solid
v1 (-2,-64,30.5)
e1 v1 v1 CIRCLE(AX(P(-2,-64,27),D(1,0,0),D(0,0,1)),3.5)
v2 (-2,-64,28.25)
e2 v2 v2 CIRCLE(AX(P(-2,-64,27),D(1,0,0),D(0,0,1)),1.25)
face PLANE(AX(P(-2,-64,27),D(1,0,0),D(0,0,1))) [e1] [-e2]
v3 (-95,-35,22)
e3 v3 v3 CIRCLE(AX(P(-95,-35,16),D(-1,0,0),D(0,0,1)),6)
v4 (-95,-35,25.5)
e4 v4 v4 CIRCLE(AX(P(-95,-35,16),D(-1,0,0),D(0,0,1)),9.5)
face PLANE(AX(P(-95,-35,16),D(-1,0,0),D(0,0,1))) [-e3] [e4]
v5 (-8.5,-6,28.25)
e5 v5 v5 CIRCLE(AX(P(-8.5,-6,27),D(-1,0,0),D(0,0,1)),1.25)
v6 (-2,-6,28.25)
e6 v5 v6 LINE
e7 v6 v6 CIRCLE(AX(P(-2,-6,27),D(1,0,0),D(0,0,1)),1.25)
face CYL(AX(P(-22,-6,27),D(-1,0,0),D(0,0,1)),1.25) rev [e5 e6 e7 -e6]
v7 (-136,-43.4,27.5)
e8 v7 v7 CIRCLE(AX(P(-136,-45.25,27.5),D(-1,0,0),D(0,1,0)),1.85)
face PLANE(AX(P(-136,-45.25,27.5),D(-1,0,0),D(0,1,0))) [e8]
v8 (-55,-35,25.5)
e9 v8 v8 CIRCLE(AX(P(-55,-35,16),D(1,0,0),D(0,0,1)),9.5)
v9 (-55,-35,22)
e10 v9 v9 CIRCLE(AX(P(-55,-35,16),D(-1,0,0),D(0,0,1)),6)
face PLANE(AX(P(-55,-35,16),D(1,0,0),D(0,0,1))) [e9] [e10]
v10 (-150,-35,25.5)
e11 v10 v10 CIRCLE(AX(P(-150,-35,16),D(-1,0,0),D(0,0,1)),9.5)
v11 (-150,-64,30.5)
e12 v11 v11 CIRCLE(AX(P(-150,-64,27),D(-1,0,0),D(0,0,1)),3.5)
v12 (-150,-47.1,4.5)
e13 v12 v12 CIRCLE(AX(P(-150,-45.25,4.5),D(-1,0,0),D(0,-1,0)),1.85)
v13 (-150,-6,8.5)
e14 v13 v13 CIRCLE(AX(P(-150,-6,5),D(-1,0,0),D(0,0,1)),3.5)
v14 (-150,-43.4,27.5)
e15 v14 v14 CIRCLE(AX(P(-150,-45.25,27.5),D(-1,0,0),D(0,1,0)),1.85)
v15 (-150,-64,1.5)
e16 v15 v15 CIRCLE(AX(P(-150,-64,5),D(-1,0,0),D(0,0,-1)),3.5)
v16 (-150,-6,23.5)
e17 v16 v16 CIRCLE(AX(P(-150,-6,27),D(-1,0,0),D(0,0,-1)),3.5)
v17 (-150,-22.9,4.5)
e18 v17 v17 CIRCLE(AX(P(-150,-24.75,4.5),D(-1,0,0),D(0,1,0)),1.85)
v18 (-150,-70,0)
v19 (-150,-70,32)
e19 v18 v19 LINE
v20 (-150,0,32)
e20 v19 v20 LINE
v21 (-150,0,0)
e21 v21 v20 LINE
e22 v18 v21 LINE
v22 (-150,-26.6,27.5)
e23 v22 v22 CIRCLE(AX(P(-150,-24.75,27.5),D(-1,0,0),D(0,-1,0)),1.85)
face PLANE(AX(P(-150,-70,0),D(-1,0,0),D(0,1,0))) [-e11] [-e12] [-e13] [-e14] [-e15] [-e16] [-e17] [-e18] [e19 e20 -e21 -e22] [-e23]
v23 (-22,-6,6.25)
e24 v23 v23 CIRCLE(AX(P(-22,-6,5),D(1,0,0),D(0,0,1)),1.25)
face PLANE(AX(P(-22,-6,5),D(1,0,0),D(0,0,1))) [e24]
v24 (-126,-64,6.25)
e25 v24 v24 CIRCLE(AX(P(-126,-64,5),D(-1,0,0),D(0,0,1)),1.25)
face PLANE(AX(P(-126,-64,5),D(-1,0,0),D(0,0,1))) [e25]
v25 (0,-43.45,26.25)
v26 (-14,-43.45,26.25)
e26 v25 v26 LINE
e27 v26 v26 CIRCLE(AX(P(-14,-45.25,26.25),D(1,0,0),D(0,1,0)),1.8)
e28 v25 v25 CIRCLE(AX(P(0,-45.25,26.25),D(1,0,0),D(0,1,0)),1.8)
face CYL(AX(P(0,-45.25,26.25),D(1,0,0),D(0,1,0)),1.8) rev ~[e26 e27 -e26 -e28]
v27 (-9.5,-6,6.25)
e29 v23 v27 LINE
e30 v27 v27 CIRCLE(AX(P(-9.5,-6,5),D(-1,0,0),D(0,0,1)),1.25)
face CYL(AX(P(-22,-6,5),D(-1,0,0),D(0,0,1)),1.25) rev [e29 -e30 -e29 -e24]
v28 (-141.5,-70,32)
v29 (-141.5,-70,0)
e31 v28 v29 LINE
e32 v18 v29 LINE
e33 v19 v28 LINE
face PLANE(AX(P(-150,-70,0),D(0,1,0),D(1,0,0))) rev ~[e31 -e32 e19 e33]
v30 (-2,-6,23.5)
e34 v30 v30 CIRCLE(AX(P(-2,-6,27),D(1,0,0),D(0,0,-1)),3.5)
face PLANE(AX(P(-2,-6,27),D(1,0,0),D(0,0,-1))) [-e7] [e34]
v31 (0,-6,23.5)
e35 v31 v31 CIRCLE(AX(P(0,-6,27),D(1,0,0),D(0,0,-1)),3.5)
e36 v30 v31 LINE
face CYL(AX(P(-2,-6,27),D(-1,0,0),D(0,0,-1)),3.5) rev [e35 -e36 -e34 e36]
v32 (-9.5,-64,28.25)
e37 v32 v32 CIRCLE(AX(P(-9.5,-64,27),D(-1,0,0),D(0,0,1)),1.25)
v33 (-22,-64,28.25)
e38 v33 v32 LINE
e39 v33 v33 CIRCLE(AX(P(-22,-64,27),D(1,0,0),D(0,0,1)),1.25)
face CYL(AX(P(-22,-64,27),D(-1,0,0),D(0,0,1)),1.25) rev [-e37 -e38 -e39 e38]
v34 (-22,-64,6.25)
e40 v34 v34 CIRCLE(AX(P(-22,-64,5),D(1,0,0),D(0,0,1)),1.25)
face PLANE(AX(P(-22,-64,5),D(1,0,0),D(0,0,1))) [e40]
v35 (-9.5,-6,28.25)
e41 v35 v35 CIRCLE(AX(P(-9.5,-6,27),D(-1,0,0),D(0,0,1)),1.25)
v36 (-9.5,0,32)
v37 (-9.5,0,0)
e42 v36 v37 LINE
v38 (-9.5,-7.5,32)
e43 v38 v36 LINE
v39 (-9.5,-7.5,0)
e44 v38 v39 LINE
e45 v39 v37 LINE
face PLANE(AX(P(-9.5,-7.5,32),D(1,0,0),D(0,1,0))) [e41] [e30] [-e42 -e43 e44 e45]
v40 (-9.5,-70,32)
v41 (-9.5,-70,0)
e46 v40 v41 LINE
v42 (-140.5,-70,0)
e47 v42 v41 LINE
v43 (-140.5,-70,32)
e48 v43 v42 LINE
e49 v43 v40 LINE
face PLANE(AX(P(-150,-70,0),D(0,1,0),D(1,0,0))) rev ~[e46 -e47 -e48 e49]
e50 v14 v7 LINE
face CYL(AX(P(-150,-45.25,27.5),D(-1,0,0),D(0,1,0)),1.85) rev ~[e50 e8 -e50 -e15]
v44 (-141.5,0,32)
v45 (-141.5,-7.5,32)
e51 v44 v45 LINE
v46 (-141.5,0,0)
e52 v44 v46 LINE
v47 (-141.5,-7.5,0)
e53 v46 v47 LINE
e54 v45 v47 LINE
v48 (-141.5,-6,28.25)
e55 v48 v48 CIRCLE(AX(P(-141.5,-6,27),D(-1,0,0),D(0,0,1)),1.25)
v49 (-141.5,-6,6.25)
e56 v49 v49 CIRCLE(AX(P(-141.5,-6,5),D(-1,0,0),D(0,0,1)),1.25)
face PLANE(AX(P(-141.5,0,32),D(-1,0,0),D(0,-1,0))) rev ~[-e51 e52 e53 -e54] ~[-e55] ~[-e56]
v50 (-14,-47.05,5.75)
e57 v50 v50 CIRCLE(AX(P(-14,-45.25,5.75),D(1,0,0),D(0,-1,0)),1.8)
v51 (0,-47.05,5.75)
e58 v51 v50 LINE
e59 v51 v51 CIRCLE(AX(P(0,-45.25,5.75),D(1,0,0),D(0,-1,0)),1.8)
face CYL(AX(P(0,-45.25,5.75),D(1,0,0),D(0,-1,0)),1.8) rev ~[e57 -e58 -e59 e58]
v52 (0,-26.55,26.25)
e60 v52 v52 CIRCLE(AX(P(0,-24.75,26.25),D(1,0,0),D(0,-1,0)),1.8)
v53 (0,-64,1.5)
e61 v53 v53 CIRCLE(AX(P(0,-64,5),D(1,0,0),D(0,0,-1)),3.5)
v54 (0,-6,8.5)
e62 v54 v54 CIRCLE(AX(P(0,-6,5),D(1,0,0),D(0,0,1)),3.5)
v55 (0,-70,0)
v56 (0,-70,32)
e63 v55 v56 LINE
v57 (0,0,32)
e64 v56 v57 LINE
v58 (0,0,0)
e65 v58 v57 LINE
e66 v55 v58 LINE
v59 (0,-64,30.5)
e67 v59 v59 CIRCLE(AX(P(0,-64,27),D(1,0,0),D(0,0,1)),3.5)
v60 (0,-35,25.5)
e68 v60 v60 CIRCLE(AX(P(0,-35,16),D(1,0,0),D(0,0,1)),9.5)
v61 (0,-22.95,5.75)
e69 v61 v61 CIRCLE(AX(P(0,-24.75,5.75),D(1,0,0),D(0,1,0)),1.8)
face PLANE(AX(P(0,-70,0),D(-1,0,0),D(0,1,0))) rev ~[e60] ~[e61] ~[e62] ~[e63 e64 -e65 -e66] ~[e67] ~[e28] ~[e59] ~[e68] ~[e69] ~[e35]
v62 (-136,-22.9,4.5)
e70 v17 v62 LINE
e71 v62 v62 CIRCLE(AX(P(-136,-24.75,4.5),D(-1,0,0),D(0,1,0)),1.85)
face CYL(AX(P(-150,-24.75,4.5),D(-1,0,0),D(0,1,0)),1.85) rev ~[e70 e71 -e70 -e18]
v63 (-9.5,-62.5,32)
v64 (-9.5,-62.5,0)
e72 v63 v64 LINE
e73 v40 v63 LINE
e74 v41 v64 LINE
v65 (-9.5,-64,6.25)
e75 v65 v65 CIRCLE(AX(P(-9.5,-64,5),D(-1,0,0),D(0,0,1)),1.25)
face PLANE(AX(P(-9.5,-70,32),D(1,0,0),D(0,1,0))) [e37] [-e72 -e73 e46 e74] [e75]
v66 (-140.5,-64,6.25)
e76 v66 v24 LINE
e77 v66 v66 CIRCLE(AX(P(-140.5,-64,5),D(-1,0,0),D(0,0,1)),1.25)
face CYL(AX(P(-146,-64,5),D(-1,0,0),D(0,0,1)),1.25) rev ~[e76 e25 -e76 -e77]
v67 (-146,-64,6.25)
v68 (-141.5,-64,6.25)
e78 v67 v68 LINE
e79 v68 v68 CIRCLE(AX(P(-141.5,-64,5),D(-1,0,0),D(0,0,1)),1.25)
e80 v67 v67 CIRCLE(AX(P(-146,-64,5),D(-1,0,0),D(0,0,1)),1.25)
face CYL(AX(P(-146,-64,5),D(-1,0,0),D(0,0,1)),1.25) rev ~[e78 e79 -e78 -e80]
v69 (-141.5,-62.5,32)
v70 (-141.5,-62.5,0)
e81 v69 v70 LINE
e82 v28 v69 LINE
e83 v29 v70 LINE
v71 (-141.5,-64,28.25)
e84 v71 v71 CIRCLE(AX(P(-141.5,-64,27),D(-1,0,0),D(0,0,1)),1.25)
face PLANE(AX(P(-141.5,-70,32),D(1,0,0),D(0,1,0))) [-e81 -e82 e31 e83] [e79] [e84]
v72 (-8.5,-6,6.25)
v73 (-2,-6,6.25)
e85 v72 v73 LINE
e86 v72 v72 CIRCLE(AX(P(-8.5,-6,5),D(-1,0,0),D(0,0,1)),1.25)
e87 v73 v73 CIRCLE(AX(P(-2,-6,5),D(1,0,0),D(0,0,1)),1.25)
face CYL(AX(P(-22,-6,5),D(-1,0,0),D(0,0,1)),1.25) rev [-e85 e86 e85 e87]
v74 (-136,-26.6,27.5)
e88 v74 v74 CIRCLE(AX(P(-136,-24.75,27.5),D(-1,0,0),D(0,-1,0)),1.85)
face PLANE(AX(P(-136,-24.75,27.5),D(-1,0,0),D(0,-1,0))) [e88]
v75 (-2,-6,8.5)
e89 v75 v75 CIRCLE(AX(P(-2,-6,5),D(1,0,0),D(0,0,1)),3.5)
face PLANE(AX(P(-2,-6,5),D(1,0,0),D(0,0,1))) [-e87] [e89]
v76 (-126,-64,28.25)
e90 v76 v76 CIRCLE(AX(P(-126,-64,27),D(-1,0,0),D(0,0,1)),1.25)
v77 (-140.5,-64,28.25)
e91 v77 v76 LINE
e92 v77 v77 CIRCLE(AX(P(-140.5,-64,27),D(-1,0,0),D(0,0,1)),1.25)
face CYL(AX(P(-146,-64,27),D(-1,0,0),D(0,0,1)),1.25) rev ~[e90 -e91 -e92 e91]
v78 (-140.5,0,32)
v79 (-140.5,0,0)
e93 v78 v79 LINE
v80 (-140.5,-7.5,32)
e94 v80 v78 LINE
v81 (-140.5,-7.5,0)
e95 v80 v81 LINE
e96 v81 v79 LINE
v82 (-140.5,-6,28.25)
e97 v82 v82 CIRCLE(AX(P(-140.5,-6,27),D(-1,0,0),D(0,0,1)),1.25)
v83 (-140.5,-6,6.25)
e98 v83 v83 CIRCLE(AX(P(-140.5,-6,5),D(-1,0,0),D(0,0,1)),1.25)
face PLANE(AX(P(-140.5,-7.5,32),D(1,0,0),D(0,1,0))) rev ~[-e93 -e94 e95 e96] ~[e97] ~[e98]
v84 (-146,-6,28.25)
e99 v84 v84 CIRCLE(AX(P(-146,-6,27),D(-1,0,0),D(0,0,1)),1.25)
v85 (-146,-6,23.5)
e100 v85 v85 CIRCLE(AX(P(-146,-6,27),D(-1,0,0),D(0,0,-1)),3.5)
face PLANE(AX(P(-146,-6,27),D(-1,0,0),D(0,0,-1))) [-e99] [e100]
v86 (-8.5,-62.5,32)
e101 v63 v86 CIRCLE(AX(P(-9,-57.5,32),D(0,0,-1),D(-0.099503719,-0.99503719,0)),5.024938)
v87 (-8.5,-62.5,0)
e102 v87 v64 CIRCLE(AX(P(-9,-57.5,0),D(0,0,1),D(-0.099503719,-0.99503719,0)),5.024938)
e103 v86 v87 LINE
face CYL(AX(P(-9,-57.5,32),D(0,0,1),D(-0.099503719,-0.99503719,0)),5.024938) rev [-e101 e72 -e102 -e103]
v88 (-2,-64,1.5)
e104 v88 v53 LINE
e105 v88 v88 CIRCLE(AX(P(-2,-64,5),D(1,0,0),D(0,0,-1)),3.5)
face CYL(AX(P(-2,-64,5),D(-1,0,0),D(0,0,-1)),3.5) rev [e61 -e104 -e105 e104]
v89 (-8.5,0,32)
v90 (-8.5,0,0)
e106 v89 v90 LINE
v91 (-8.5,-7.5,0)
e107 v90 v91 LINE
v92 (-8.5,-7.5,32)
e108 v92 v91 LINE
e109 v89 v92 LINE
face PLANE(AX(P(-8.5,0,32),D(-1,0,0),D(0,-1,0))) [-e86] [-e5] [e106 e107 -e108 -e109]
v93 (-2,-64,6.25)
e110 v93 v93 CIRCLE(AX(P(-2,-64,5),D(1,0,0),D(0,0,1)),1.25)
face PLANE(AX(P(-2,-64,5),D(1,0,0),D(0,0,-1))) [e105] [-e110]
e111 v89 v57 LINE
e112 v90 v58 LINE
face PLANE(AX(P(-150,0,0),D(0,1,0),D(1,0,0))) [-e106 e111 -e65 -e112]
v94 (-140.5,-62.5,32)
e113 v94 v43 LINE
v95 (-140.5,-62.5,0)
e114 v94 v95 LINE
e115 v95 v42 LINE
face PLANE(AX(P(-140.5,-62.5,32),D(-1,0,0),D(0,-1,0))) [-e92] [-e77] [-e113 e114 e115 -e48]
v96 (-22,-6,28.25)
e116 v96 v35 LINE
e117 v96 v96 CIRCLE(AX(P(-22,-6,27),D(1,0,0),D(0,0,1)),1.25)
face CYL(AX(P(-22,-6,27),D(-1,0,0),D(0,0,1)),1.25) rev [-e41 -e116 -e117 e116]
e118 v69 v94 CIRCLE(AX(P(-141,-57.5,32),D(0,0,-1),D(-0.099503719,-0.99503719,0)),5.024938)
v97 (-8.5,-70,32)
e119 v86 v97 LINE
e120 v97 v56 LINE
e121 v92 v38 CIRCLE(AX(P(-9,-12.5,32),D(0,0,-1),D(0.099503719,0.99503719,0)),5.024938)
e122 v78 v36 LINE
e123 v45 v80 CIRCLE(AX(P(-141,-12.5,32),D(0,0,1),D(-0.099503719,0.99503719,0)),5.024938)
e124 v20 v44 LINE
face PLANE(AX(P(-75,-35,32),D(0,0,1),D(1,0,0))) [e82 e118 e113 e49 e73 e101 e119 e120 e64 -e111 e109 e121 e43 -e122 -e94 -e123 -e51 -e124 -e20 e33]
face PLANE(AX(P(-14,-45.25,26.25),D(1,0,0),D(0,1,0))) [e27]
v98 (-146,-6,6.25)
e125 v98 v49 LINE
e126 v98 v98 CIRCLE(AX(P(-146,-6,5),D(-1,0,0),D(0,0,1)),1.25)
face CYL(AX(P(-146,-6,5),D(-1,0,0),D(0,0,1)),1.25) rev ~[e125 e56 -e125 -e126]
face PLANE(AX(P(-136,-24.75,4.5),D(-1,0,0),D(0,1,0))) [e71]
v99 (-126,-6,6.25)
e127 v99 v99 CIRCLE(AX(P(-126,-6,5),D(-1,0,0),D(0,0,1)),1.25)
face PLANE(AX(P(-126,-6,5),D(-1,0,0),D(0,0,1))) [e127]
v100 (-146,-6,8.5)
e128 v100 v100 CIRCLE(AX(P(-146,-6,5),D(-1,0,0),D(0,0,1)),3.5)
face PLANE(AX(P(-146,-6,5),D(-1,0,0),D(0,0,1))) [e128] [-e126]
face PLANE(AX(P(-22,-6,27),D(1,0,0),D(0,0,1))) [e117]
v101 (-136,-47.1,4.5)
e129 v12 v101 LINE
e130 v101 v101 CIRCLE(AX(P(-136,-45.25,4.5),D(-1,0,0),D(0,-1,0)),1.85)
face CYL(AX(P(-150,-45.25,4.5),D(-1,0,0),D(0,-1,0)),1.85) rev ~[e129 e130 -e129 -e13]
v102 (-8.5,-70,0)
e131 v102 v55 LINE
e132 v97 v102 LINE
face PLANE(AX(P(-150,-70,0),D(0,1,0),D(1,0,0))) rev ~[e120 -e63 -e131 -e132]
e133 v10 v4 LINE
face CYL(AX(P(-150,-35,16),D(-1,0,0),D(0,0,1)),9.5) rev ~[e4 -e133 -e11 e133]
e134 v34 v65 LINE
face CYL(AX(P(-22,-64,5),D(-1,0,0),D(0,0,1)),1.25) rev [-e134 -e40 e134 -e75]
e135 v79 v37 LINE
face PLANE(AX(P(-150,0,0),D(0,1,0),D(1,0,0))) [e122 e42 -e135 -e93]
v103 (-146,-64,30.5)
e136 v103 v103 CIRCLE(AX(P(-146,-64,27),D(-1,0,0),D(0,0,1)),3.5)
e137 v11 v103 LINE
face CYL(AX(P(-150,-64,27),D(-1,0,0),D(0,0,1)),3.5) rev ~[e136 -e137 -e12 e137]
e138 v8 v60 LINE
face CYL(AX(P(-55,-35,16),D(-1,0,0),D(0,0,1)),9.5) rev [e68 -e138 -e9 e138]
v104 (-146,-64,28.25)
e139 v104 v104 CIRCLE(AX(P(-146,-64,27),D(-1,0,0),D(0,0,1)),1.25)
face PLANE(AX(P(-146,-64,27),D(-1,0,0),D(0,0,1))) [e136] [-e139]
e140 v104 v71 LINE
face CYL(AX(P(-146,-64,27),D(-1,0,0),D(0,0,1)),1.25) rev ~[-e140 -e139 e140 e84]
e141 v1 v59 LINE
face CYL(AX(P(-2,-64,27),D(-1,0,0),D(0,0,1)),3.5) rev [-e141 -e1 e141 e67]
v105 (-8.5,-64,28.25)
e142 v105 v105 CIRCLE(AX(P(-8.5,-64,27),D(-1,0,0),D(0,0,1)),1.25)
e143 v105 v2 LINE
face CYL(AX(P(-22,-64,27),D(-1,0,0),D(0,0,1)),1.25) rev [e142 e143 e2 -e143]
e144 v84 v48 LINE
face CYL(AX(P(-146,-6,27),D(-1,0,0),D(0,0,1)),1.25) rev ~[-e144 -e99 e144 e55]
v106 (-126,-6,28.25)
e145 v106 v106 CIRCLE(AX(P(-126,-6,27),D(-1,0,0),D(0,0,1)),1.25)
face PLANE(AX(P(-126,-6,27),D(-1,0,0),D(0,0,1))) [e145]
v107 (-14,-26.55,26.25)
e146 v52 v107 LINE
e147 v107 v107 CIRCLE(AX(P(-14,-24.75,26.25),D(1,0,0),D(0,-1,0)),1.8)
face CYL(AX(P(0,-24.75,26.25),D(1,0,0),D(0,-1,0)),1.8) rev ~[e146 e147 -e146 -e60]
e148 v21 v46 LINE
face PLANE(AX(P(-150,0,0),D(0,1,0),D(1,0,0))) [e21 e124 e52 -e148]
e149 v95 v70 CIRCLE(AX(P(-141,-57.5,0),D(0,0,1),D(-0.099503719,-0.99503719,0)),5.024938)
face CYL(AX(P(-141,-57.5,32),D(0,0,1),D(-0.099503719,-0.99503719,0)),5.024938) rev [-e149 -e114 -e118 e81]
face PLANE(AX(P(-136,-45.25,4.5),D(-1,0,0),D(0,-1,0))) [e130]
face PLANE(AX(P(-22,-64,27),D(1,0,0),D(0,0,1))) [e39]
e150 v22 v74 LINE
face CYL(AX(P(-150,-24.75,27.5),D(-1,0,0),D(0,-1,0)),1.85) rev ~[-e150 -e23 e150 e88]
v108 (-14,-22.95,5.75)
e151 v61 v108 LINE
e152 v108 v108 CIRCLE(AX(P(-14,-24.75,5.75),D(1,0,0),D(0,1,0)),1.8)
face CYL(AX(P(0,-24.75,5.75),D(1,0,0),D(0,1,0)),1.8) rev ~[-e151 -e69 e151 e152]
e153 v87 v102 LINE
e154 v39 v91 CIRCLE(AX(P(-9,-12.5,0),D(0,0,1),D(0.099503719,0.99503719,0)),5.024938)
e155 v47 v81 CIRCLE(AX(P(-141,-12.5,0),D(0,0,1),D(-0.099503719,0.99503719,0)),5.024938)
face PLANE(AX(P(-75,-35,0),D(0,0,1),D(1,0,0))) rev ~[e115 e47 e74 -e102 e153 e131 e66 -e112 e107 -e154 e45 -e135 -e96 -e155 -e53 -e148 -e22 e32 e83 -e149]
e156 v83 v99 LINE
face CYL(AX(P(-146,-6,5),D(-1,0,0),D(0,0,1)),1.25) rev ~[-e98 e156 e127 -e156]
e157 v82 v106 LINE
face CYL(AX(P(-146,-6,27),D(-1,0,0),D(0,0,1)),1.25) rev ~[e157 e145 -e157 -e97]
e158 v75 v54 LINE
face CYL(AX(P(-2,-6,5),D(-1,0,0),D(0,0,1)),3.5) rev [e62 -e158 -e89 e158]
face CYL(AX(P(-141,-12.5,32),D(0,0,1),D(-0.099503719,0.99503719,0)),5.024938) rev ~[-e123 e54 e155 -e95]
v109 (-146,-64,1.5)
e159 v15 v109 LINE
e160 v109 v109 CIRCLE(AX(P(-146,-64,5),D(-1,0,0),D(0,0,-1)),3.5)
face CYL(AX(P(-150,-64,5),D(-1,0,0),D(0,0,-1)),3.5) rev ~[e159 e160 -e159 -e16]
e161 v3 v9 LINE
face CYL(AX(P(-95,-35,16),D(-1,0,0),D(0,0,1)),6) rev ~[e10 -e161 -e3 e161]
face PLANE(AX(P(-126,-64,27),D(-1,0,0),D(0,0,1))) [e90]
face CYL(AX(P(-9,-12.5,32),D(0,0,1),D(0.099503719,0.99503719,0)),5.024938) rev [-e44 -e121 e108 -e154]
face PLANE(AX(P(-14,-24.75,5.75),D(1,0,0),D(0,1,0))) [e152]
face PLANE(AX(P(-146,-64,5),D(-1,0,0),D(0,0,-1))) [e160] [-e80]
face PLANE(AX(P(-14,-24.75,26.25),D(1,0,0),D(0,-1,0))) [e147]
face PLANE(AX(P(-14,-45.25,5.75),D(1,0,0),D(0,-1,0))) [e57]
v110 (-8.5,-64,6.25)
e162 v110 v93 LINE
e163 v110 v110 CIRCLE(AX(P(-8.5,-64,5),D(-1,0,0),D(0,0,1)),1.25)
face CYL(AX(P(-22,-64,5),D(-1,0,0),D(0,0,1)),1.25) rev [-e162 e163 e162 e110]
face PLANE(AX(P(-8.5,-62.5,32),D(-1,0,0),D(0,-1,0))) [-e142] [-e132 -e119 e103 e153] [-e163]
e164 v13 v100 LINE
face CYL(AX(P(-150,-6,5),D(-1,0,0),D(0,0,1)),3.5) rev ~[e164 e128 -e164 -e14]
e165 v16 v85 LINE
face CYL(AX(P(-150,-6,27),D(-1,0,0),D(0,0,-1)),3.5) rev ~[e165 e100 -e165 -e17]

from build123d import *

# Parameters (mm, degrees)
SKETCH1_W                      = 150
SKETCH1_H                      = 70
BOSS_EXTRUDE1_DEPTH            = 32
SKETCH2_R                      = 9.5
LINEAR_BEARING_CUT_1_DEPTH     = 55
Y_AXIS_SHAFTS_CUT_DEPTH        = 169.594187326
LINEAR_BEARING_CUT_2_START     = -55
SKETCH7_R                      = 9.5
LINEAR_BEARING_CUT_2_DEPTH     = 55
SKETCH6_R                      = 6
BETWEEN_BEARINGS_DEPTH         = 123.266103234
SKETCH8_R                      = 3.5
SHAFT_HOLDER_SCREW_CUT_DEPTH   = 4
SKETCH9_R                      = 1.25
SHAFT_HOLDER_SCREW_CUT2_DEPTH  = 20
SHAFT_HOLDER_SCREW_CUT_3_START = -2
SKETCH10_R                     = 3.5
SHAFT_HOLDER_SCREW_CUT_3_DEPTH = 2
SHAFT_HOLDER_SCREW_CUT_4_START = -20
SKETCH11_R                     = 1.25
SHAFT_HOLDER_SCREW_CUT_4_DEPTH = 20
SKETCH12_R                     = 1.8
LINEAR_BEARING_SREW1_DEPTH     = 14
SKETCH13_R                     = 1.85
LINEAR_BEARING_SCREW2_DEPTH    = 14


with BuildPart() as part:
    # Sketch1 → Boss-Extrude1 (new body)
    with BuildSketch(Plane.XY):
        with Locations((-75, -35)):
            Rectangle(SKETCH1_W, SKETCH1_H)
    extrude(amount=BOSS_EXTRUDE1_DEPTH)

    # Sketch2 → Linear_bearing-cut-1 (cut)
    with BuildSketch(Plane.ZY.offset(150)):
        with Locations((16, -35)):
            Circle(SKETCH2_R)
    extrude(amount=-LINEAR_BEARING_CUT_1_DEPTH, mode=Mode.SUBTRACT)

    # Sketch5 → Y-axis-shafts-cut (cut, through all)
    with BuildSketch(Plane.XY.offset(32)):
        with BuildLine():
            Line((-141.5, 0), (-141.5, -7.5))
            ThreePointArc((-141.5, -7.5), (-141, -17.524937811), (-140.5, -7.5))
            Line((-140.5, -7.5), (-140.5, 0))
            Line((-140.5, 0), (-141.5, 0))
        make_face()
        with BuildLine():
            Line((-8.5, 0), (-8.5, -7.5))
            ThreePointArc((-8.5, -7.5), (-9, -17.524937811), (-9.5, -7.5))
            Line((-9.5, -7.5), (-9.5, 0))
            Line((-9.5, 0), (-8.5, 0))
        make_face()
        with BuildLine():
            Line((-141.5, -70), (-141.5, -62.5))
            ThreePointArc((-141.5, -62.5), (-141, -52.475062189), (-140.5, -62.5))
            Line((-140.5, -62.5), (-140.5, -70))
            Line((-140.5, -70), (-141.5, -70))
        make_face()
        with BuildLine():
            Line((-9.5, -70), (-9.5, -62.5))
            ThreePointArc((-9.5, -62.5), (-9, -52.475062189), (-8.5, -62.5))
            Line((-8.5, -62.5), (-8.5, -70))
            Line((-8.5, -70), (-9.5, -70))
        make_face()
    extrude(amount=-Y_AXIS_SHAFTS_CUT_DEPTH, mode=Mode.SUBTRACT)

    # Sketch7 → Linear-bearing-cut-2 (cut)
    with BuildSketch(Plane(origin=(0, 0, 0), x_dir=(0, 0, -1), z_dir=(1, 0, 0)).offset(LINEAR_BEARING_CUT_2_START)):
        with Locations(Location((-16, -35, 0), (0, 0, 180))):
            Circle(SKETCH7_R)
    extrude(amount=LINEAR_BEARING_CUT_2_DEPTH, mode=Mode.SUBTRACT)

    # Sketch6 → between-bearings (cut, through all)
    with BuildSketch(Plane.ZY.offset(95)):
        with Locations((16, -35)):
            Circle(SKETCH6_R)
    extrude(amount=-BETWEEN_BEARINGS_DEPTH, mode=Mode.SUBTRACT)

    # Sketch8 → shaft-holder-screw-cut (cut)
    with BuildSketch(Plane.ZY.offset(150)):
        with Locations((5, -6)):
            Circle(SKETCH8_R)
        with Locations(Location((27, -6, 0), (0, 0, 180))):
            Circle(SKETCH8_R)
        with Locations((27, -64)):
            Circle(SKETCH8_R)
        with Locations(Location((5, -64, 0), (0, 0, 180))):
            Circle(SKETCH8_R)
    extrude(amount=-SHAFT_HOLDER_SCREW_CUT_DEPTH, mode=Mode.SUBTRACT)

    # Sketch9 → shaft-holder-screw-cut2 (cut)
    with BuildSketch(Plane.ZY.offset(146)):
        with Locations((5, -6)):
            Circle(SKETCH9_R)
        with Locations((27, -6)):
            Circle(SKETCH9_R)
        with Locations((5, -64)):
            Circle(SKETCH9_R)
        with Locations((27, -64)):
            Circle(SKETCH9_R)
    extrude(amount=-SHAFT_HOLDER_SCREW_CUT2_DEPTH, mode=Mode.SUBTRACT)

    # Sketch10 → shaft-holder-screw-cut-3 (cut)
    with BuildSketch(Plane(origin=(0, 0, 0), x_dir=(0, 0, -1), z_dir=(1, 0, 0)).offset(SHAFT_HOLDER_SCREW_CUT_3_START)):
        with Locations((-27, -6)):
            Circle(SKETCH10_R)
        with Locations(Location((-5, -6, 0), (0, 0, 180))):
            Circle(SKETCH10_R)
        with Locations((-5, -64)):
            Circle(SKETCH10_R)
        with Locations(Location((-27, -64, 0), (0, 0, 180))):
            Circle(SKETCH10_R)
    extrude(amount=SHAFT_HOLDER_SCREW_CUT_3_DEPTH, mode=Mode.SUBTRACT)

    # Sketch11 → shaft-holder-screw-cut-4 (cut)
    with BuildSketch(Plane(origin=(-2, 0, 0), x_dir=(0, 0, -1), z_dir=(1, 0, 0)).offset(SHAFT_HOLDER_SCREW_CUT_4_START)):
        with Locations(Location((-27, -6, 0), (0, 0, 180))):
            Circle(SKETCH11_R)
        with Locations(Location((-5, -6, 0), (0, 0, 180))):
            Circle(SKETCH11_R)
        with Locations(Location((-5, -64, 0), (0, 0, 180))):
            Circle(SKETCH11_R)
        with Locations(Location((-27, -64, 0), (0, 0, 180))):
            Circle(SKETCH11_R)
    extrude(amount=SHAFT_HOLDER_SCREW_CUT_4_DEPTH, mode=Mode.SUBTRACT)

    # Sketch12 → Linear-bearing-srew1 (cut)
    with BuildSketch(Plane(origin=(0, 0, 0), x_dir=(0, 0, -1), z_dir=(1, 0, 0))):
        with Locations(Location((-5.75, -24.75, 0), (0, 0, 90))):
            Circle(SKETCH12_R)
        with Locations(Location((-26.25, -24.75, 0), (0, 0, 270))):
            Circle(SKETCH12_R)
        with Locations(Location((-5.75, -45.25, 0), (0, 0, 270))):
            Circle(SKETCH12_R)
        with Locations(Location((-26.25, -45.25, 0), (0, 0, 90))):
            Circle(SKETCH12_R)
    extrude(amount=-LINEAR_BEARING_SREW1_DEPTH, mode=Mode.SUBTRACT)

    # Sketch13 → Linear-bearing-screw2 (cut)
    with BuildSketch(Plane.ZY.offset(150)):
        with Locations(Location((27.5, -24.75, 0), (0, 0, 270))):
            Circle(SKETCH13_R)
        with Locations(Location((4.5, -24.75, 0), (0, 0, 90))):
            Circle(SKETCH13_R)
        with Locations(Location((27.5, -45.25, 0), (0, 0, 90))):
            Circle(SKETCH13_R)
        with Locations(Location((4.5, -45.25, 0), (0, 0, 270))):
            Circle(SKETCH13_R)
    extrude(amount=-LINEAR_BEARING_SCREW2_DEPTH, mode=Mode.SUBTRACT)


solid = part.part
